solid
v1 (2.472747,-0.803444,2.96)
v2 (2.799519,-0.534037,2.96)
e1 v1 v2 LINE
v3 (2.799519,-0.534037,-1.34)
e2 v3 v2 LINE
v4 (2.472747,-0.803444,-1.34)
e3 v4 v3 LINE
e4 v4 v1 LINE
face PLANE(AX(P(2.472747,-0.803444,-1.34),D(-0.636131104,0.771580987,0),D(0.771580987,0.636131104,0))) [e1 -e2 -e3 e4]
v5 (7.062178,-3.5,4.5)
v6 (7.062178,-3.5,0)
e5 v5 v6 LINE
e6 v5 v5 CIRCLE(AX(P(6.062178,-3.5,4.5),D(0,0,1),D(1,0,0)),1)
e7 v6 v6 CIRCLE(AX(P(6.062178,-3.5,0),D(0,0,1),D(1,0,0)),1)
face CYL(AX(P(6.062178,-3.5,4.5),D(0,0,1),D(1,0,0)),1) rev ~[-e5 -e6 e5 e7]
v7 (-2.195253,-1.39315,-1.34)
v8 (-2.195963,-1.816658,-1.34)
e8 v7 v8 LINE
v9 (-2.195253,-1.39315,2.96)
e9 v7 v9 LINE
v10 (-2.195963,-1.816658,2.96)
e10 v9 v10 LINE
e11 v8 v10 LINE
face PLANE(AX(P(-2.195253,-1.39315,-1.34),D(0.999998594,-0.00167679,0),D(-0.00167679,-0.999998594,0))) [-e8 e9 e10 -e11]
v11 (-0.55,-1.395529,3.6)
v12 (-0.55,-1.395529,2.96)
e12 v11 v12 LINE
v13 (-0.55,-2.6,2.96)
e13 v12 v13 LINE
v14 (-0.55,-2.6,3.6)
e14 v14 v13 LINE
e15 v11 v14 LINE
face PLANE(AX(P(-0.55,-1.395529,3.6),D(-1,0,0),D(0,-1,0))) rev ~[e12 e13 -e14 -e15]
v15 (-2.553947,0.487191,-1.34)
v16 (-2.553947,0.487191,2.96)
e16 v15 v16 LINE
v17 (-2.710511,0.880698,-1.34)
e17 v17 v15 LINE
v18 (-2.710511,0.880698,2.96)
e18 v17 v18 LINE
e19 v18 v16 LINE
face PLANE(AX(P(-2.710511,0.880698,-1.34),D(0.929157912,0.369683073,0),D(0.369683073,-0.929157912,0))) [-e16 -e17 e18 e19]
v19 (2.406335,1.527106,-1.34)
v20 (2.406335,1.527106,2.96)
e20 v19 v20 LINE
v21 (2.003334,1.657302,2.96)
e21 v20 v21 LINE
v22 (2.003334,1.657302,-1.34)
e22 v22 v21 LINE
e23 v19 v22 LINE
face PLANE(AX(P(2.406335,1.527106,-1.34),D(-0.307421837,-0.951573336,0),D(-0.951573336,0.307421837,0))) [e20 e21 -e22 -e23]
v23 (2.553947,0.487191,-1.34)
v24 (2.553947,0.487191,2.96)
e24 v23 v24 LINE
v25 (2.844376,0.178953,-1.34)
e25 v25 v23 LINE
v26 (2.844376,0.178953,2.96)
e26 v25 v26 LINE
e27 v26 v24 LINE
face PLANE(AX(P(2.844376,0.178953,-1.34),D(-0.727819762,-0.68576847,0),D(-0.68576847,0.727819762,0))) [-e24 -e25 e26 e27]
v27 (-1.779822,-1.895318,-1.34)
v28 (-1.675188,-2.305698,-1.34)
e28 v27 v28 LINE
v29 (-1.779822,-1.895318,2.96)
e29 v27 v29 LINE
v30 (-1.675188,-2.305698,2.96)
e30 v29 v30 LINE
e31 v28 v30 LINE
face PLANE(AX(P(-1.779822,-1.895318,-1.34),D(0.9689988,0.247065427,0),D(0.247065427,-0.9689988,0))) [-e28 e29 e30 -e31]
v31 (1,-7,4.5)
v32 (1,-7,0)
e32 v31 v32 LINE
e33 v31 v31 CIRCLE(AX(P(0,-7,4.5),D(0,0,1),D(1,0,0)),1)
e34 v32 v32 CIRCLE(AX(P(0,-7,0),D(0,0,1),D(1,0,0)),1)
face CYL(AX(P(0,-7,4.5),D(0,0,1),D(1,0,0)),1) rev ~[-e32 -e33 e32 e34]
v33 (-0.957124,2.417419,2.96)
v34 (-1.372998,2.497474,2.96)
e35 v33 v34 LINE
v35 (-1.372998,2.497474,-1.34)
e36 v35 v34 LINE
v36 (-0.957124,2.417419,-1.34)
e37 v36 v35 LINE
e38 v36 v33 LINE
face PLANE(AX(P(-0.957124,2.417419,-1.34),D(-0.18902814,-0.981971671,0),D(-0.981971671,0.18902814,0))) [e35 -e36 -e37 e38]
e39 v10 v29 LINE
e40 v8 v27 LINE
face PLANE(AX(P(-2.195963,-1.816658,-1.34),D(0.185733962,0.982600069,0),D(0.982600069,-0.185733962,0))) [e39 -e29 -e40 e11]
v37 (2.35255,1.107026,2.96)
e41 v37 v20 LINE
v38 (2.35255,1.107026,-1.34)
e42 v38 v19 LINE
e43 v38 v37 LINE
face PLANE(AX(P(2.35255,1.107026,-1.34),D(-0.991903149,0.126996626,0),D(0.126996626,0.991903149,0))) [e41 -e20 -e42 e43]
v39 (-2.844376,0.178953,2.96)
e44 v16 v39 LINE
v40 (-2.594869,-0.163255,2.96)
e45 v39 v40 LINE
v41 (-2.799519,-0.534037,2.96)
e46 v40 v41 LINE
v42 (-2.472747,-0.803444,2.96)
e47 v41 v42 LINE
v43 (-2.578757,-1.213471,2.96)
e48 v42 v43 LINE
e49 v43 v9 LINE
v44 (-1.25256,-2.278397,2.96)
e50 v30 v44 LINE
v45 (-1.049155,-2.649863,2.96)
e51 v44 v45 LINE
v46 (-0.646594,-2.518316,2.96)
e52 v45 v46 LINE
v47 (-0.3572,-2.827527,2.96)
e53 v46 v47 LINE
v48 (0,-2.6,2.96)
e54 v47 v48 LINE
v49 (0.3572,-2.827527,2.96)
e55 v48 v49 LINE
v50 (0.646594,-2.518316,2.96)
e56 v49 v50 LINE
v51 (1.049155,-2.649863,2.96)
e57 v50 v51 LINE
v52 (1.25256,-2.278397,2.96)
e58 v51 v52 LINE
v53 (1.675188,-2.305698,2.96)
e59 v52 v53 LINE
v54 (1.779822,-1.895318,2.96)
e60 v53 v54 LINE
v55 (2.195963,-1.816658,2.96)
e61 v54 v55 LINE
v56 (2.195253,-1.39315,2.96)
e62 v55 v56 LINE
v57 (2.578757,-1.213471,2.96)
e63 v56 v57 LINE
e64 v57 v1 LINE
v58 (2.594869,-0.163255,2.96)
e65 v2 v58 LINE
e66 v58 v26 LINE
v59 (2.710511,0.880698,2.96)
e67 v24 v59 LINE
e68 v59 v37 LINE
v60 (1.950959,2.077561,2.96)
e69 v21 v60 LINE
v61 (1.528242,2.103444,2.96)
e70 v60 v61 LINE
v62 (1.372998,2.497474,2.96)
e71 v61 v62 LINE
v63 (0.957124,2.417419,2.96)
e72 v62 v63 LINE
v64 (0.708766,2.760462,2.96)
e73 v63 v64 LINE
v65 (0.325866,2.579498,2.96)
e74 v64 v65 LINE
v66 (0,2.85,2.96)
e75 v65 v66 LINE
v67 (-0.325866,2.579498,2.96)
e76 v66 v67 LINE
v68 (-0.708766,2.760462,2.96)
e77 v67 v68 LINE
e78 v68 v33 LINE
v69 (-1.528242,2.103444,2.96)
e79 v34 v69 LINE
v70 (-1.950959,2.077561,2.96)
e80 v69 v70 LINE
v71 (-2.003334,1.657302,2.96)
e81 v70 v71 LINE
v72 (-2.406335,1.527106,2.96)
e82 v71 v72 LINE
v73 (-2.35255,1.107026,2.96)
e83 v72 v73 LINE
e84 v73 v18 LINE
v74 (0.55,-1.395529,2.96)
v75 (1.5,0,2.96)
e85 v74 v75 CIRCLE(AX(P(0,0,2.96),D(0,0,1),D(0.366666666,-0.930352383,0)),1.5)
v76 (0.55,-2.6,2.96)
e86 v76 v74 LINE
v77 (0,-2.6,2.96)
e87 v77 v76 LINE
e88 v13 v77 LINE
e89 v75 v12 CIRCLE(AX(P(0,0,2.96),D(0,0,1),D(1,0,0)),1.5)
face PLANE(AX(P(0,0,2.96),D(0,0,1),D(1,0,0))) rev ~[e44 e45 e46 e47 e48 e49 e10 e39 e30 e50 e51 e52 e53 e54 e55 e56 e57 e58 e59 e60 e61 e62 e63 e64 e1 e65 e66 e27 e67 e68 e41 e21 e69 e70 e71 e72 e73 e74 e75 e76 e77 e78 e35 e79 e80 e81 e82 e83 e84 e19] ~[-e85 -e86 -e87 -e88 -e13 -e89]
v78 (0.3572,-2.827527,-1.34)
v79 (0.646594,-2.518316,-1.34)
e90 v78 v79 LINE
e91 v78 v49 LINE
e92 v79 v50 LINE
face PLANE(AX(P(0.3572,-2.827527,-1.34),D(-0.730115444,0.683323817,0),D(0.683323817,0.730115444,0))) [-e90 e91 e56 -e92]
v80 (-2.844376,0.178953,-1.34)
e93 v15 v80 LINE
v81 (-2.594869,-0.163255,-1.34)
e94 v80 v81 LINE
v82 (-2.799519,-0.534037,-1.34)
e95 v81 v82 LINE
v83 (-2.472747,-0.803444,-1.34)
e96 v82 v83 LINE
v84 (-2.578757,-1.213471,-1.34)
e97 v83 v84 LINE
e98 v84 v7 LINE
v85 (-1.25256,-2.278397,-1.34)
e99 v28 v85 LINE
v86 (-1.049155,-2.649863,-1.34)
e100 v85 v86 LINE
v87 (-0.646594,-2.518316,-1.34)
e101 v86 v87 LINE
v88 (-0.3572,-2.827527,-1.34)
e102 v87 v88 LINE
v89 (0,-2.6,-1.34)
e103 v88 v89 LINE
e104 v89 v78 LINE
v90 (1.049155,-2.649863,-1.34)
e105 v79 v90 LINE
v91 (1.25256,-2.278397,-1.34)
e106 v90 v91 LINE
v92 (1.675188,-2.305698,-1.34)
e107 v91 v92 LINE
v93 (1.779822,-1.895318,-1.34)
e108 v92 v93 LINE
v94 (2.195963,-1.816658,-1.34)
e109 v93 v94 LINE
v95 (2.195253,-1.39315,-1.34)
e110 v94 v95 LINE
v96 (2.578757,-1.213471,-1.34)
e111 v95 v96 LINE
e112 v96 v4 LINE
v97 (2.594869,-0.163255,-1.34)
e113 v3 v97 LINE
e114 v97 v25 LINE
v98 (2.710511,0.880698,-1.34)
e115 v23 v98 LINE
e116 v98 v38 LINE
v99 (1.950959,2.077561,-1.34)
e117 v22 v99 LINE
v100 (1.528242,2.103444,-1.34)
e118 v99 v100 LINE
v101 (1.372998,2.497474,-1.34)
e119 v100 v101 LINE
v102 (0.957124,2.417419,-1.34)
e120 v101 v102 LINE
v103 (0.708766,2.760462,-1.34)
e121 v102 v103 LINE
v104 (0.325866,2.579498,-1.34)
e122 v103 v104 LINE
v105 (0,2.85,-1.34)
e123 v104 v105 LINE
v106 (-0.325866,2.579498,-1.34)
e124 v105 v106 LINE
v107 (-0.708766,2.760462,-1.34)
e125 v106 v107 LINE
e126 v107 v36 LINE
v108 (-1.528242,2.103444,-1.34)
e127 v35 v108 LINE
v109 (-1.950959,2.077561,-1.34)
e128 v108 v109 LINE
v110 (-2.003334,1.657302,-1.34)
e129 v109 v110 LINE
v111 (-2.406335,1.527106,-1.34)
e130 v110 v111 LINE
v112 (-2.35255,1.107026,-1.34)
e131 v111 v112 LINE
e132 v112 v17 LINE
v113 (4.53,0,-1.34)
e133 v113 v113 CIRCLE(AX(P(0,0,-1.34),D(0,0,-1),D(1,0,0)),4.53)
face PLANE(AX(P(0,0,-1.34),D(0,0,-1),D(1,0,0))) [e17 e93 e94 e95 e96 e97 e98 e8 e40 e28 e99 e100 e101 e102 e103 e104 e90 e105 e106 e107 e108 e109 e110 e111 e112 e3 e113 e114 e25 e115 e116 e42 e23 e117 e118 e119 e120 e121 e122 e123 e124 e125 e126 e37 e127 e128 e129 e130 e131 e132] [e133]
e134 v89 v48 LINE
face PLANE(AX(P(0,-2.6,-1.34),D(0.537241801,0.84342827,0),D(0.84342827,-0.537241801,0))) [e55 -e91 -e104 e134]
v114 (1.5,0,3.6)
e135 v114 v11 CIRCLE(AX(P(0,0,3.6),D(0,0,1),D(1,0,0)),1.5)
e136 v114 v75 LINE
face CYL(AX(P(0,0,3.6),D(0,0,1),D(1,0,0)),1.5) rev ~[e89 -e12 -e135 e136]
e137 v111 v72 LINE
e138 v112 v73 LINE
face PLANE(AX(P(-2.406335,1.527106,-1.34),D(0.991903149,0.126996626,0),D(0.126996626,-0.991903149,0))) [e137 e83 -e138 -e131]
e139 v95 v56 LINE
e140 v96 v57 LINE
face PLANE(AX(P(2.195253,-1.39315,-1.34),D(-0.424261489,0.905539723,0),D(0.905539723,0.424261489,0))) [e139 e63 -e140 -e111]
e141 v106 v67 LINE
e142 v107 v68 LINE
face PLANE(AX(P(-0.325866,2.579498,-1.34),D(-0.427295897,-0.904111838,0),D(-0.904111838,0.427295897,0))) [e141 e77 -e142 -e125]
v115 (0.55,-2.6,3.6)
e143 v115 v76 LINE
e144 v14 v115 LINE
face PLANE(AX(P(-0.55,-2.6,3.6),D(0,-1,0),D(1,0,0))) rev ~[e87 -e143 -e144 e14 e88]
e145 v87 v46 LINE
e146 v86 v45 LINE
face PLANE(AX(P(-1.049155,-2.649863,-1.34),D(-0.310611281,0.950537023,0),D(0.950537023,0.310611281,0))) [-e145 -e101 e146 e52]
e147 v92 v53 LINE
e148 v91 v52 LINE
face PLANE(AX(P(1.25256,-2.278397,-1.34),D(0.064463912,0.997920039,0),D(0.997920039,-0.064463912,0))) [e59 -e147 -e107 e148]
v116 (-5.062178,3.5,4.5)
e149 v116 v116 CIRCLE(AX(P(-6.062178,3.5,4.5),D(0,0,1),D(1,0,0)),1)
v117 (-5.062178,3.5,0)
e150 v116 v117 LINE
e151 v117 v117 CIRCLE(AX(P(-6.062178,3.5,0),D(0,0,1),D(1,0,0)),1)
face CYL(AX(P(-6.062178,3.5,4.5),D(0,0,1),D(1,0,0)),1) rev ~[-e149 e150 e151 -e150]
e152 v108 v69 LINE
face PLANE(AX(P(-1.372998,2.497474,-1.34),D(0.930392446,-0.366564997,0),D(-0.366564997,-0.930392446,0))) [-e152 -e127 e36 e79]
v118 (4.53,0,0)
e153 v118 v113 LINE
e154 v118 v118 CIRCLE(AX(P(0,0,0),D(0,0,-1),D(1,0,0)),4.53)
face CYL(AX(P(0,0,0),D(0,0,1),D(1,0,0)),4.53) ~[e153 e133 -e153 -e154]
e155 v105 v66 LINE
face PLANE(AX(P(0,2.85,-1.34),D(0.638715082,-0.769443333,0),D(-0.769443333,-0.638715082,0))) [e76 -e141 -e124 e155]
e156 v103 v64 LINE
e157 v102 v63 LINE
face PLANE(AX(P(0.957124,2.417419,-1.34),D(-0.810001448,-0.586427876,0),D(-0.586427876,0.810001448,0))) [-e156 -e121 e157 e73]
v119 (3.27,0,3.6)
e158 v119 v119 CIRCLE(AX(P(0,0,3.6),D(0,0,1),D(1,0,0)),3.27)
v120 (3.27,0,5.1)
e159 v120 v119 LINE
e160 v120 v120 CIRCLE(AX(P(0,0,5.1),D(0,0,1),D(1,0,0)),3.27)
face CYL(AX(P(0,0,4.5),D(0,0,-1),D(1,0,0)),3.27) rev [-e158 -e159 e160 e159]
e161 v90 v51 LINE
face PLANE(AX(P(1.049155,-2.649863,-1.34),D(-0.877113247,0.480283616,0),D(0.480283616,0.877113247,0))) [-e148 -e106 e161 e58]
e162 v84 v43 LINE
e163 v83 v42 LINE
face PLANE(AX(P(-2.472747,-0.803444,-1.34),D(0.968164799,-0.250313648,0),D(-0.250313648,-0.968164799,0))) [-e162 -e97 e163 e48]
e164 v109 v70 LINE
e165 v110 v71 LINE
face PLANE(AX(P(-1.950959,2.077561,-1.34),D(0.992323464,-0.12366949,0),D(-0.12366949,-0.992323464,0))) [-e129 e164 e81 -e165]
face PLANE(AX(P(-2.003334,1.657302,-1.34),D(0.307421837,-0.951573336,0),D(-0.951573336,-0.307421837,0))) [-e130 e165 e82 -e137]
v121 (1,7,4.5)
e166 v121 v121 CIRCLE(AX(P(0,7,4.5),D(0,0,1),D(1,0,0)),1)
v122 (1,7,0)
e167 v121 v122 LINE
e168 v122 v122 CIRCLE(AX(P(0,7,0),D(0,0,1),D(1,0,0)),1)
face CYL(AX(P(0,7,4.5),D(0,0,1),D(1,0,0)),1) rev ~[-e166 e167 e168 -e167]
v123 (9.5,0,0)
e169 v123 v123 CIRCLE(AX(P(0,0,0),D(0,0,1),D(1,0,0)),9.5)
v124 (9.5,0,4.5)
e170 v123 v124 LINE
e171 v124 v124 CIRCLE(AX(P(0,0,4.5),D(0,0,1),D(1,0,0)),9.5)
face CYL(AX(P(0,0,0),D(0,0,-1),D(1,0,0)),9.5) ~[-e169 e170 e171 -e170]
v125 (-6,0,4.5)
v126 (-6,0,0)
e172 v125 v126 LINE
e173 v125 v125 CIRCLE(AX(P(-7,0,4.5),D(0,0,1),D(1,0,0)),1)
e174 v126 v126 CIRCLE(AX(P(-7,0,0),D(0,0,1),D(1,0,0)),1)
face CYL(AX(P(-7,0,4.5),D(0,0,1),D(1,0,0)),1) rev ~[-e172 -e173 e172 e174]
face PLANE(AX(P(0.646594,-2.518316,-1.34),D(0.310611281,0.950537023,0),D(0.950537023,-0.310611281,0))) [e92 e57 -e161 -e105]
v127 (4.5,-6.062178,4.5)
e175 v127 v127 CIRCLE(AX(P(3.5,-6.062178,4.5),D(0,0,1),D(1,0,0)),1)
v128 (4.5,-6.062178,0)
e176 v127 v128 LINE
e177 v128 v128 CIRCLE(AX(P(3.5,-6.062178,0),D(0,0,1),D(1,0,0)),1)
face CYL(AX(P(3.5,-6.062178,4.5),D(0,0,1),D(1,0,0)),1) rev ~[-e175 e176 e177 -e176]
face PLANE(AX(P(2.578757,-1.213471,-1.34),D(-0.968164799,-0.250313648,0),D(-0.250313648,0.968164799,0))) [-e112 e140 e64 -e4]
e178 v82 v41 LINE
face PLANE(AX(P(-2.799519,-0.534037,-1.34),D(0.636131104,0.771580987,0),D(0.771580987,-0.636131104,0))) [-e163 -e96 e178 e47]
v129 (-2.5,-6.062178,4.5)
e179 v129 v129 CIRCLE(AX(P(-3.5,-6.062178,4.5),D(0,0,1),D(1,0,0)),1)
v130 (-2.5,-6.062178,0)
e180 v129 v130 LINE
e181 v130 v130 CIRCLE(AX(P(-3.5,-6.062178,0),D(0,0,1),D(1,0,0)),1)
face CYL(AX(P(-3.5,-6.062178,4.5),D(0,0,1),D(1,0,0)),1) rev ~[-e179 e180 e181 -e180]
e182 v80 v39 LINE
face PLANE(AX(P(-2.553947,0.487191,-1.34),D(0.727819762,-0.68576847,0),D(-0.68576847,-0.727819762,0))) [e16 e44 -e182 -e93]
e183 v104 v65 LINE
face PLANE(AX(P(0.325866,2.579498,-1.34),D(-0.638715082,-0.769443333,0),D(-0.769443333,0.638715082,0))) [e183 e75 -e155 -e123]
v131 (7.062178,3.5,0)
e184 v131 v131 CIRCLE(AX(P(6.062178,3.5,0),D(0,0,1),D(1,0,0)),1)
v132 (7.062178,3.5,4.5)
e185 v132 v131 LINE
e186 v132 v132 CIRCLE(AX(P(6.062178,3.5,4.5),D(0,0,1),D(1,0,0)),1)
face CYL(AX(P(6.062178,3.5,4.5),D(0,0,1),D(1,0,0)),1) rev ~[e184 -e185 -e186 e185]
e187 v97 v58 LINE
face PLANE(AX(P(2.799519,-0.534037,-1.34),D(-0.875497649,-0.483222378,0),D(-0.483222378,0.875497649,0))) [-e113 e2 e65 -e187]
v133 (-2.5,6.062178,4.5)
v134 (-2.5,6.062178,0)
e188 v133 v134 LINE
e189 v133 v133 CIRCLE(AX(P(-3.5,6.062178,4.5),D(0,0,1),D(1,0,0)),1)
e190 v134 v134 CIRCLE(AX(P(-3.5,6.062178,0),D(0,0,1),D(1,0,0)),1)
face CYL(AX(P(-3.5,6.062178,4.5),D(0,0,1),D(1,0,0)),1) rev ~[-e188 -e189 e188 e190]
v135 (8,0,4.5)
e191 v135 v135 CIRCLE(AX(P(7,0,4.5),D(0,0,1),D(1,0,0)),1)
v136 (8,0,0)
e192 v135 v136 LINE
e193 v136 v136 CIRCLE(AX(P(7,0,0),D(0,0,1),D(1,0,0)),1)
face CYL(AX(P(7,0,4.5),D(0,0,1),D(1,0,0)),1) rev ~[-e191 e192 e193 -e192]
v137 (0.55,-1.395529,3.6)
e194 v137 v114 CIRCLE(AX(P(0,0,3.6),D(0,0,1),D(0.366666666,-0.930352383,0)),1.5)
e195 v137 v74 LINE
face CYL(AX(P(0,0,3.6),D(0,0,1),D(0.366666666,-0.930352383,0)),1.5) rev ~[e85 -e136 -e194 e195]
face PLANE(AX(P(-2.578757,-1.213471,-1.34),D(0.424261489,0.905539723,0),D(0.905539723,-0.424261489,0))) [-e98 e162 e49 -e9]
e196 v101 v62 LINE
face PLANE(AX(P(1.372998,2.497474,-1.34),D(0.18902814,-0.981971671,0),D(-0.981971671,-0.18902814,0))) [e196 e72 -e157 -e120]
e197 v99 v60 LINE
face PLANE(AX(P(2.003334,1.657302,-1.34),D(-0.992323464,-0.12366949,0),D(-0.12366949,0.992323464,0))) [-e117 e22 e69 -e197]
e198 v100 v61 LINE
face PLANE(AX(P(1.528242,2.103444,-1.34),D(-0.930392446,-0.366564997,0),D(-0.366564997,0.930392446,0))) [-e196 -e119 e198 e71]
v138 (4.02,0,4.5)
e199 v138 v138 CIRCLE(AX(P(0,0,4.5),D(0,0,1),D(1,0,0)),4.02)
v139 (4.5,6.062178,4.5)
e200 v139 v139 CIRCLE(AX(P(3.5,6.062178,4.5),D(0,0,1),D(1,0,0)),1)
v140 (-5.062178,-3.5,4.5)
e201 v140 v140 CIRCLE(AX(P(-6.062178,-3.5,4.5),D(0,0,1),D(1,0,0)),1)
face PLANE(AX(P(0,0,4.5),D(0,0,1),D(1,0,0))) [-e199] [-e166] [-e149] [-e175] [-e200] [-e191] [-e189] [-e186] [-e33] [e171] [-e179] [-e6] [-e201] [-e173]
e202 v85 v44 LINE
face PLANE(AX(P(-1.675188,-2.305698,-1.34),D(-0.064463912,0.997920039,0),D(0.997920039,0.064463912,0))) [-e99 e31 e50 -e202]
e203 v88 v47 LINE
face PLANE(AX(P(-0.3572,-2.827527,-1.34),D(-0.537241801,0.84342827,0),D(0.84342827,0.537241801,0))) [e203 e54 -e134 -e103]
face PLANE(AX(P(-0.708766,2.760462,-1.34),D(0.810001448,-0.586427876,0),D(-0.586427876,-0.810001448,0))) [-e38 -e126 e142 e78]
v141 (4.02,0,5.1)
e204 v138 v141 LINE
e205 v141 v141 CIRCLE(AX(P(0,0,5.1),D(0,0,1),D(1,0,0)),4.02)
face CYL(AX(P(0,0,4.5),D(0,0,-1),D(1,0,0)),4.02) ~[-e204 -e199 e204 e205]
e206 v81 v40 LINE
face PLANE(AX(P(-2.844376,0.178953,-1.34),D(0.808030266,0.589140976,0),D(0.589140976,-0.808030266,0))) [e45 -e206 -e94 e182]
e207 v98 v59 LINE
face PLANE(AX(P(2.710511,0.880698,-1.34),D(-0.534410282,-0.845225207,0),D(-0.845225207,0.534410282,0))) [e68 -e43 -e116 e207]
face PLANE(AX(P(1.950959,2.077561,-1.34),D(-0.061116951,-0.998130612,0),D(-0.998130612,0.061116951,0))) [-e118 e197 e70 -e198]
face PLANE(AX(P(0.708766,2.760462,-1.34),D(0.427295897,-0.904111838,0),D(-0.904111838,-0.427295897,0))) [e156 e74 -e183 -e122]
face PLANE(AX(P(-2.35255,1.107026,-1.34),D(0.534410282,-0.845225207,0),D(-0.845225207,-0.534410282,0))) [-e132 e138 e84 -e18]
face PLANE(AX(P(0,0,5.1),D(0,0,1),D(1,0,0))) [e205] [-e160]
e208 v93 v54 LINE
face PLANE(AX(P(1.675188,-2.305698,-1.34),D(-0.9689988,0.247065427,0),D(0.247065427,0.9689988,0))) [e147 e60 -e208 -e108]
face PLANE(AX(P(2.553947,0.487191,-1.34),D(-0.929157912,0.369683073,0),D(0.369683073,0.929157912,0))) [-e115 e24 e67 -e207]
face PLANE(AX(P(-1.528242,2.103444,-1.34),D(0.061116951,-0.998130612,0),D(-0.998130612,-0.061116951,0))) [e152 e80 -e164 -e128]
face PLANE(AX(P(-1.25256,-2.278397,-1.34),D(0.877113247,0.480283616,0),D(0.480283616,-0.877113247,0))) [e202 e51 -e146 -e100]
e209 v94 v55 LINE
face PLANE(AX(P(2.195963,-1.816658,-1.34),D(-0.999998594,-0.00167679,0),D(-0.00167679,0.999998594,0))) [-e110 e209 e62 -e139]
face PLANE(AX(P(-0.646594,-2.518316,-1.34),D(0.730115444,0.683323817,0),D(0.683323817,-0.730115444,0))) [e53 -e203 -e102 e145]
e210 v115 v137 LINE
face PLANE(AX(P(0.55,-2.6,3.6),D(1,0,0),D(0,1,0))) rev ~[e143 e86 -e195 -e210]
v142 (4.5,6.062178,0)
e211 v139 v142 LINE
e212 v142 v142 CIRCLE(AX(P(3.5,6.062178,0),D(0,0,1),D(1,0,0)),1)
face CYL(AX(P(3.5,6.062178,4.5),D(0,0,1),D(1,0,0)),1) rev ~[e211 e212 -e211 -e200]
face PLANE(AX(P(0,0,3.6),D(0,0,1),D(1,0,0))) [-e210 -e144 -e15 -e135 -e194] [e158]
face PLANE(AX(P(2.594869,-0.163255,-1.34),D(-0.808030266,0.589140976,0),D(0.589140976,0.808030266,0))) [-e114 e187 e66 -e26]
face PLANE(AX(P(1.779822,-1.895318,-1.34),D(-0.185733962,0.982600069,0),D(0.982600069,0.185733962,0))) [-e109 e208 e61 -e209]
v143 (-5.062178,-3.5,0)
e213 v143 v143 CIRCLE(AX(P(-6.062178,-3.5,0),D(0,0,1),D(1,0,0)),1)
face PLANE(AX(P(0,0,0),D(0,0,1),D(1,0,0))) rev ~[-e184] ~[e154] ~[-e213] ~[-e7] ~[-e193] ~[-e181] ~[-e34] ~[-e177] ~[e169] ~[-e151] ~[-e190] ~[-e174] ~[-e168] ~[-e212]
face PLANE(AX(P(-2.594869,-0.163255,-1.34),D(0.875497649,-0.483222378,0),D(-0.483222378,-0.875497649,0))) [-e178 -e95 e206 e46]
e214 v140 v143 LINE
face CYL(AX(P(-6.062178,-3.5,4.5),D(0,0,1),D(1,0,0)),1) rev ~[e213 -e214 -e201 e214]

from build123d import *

# Parameters (mm, degrees)
BASE_R                       = 9.5
BODY_DEPTH                   = 4.5
BASE_2_R                     = 4.53
SPLINE_EXTRUSION_BACK_DEPTH  = 1.34
BASE_3_R                     = 4.02
BASE_3_R_2                   = 3.27
SPLINE_EXTRUSION_FRONT_DEPTH = 0.6
FRONT_START                  = -0.9
FRONT_BASE_R                 = 3.27
FRONT_RECESSION_DEPTH        = 0.9
SPLINE_DEPTH                 = 4.3
CENTER_SCREW_HOLE_DEPTH      = 0.64
SCREW_HOLE_SKETCH_R          = 1
SCREW_HOLES_DEPTH            = 15.649423197


with BuildPart() as part:
    # base → body (new body)
    with BuildSketch(Plane.XY):
        Circle(BASE_R)
    extrude(amount=BODY_DEPTH)

    # base 2 → spline extrusion back (add)
    with BuildSketch(Plane(origin=(0, 0, 0), x_dir=(-1, 0, 0), z_dir=(0, 0, -1))):
        with Locations(Location((0, 0, 0), (0, 0, 180))):
            Circle(BASE_2_R)
    extrude(amount=SPLINE_EXTRUSION_BACK_DEPTH)

    # base 3 → spline extrusion front (add)
    with BuildSketch(Plane.XY.offset(4.5)):
        Circle(BASE_3_R)
        Circle(BASE_3_R_2, mode=Mode.SUBTRACT)
    extrude(amount=SPLINE_EXTRUSION_FRONT_DEPTH)

    # front base → front recession (cut)
    with BuildSketch(Plane.XY.offset(4.5).offset(FRONT_START)):
        Circle(FRONT_BASE_R)
    extrude(amount=FRONT_RECESSION_DEPTH, mode=Mode.SUBTRACT)

    # spline profile → spline (cut)
    with BuildSketch(Plane(origin=(0, 0, -1.34), x_dir=(-1, 0, 0), z_dir=(0, 0, -1))):
        Polygon((-0.325866407, 2.579498223), (0, 2.85), (0.325866407, 2.579498223), (0.708766178, 2.760462009), (0.957123837, 2.417418863), (1.372997971, 2.497474038), (1.528241656, 2.103444185), (1.950959252, 2.077560588), (2.003334431, 1.657302373), (2.406334588, 1.527106366), (2.352550336, 1.107026158), (2.710511071, 0.880698434), (2.553946852, 0.487191418), (2.844376176, 0.178952981), (2.594869494, -0.163255351), (2.799518665, -0.534036747), (2.472746942, -0.803444185), (2.5787571, -1.213470981), (2.195252606, -1.393149667), (2.195962742, -1.816658371), (1.779822475, -1.895318431), (1.675187969, -2.305698434), (1.252559553, -2.278397368), (1.049154975, -2.649862985), (0.646593707, -2.518316219), (0.357199716, -2.827526899), (0, -2.6), (-0.357199716, -2.827526899), (-0.646593707, -2.518316219), (-1.049154975, -2.649862985), (-1.252559553, -2.278397368), (-1.675187969, -2.305698434), (-1.779822475, -1.895318431), (-2.195962742, -1.816658371), (-2.195252606, -1.393149667), (-2.5787571, -1.213470981), (-2.472746942, -0.803444185), (-2.799518665, -0.534036747), (-2.594869494, -0.163255351), (-2.844376176, 0.178952981), (-2.553946852, 0.487191418), (-2.710511071, 0.880698434), (-2.352550336, 1.107026158), (-2.406334588, 1.527106366), (-2.003334431, 1.657302373), (-1.950959252, 2.077560588), (-1.528241656, 2.103444185), (-1.372997971, 2.497474038), (-0.957123837, 2.417418863), (-0.708766178, 2.760462009), align=None)
    extrude(amount=-SPLINE_DEPTH, mode=Mode.SUBTRACT)

    # center screw hole sketch → center screw hole (cut)
    with BuildSketch(Plane.XY.offset(3.6)):
        with BuildLine():
            Line((-0.55, -2.6), (0.55, -2.6))
            Line((0.55, -2.6), (0.55, -1.395528574))
            ThreePointArc((0.55, -1.395528574), (0, -1.5), (-0.55, -1.395528574))
            Line((-0.55, -1.395528574), (-0.55, -2.6))
        make_face()
        with BuildLine():
            ThreePointArc((-0.55, -1.395528574), (0, -1.5), (0.55, -1.395528574))
            ThreePointArc((0.55, -1.395528574), (1.239959677, -0.844097151), (1.5, 0))
            ThreePointArc((1.5, 0), (-0.844097151, 1.239959677), (-0.55, -1.395528574))
        make_face()
    extrude(amount=-CENTER_SCREW_HOLE_DEPTH, mode=Mode.SUBTRACT)

    # screw hole sketch → screw holes (cut, through all)
    with BuildSketch(Plane.XY.offset(4.5)):
        with Locations((0, 7)):
            Circle(SCREW_HOLE_SKETCH_R)
        with Locations((3.5, 6.062177826)):
            Circle(SCREW_HOLE_SKETCH_R)
        with Locations((6.062177826, 3.5)):
            Circle(SCREW_HOLE_SKETCH_R)
        with Locations((7, 0)):
            Circle(SCREW_HOLE_SKETCH_R)
        with Locations((6.062177826, -3.5)):
            Circle(SCREW_HOLE_SKETCH_R)
        with Locations((3.5, -6.062177826)):
            Circle(SCREW_HOLE_SKETCH_R)
        with Locations((0, -7)):
            Circle(SCREW_HOLE_SKETCH_R)
        with Locations((-3.5, -6.062177826)):
            Circle(SCREW_HOLE_SKETCH_R)
        with Locations((-6.062177826, -3.5)):
            Circle(SCREW_HOLE_SKETCH_R)
        with Locations((-7, 0)):
            Circle(SCREW_HOLE_SKETCH_R)
        with Locations((-6.062177826, 3.5)):
            Circle(SCREW_HOLE_SKETCH_R)
        with Locations((-3.5, 6.062177826)):
            Circle(SCREW_HOLE_SKETCH_R)
    extrude(amount=-SCREW_HOLES_DEPTH, mode=Mode.SUBTRACT)


solid = part.part
